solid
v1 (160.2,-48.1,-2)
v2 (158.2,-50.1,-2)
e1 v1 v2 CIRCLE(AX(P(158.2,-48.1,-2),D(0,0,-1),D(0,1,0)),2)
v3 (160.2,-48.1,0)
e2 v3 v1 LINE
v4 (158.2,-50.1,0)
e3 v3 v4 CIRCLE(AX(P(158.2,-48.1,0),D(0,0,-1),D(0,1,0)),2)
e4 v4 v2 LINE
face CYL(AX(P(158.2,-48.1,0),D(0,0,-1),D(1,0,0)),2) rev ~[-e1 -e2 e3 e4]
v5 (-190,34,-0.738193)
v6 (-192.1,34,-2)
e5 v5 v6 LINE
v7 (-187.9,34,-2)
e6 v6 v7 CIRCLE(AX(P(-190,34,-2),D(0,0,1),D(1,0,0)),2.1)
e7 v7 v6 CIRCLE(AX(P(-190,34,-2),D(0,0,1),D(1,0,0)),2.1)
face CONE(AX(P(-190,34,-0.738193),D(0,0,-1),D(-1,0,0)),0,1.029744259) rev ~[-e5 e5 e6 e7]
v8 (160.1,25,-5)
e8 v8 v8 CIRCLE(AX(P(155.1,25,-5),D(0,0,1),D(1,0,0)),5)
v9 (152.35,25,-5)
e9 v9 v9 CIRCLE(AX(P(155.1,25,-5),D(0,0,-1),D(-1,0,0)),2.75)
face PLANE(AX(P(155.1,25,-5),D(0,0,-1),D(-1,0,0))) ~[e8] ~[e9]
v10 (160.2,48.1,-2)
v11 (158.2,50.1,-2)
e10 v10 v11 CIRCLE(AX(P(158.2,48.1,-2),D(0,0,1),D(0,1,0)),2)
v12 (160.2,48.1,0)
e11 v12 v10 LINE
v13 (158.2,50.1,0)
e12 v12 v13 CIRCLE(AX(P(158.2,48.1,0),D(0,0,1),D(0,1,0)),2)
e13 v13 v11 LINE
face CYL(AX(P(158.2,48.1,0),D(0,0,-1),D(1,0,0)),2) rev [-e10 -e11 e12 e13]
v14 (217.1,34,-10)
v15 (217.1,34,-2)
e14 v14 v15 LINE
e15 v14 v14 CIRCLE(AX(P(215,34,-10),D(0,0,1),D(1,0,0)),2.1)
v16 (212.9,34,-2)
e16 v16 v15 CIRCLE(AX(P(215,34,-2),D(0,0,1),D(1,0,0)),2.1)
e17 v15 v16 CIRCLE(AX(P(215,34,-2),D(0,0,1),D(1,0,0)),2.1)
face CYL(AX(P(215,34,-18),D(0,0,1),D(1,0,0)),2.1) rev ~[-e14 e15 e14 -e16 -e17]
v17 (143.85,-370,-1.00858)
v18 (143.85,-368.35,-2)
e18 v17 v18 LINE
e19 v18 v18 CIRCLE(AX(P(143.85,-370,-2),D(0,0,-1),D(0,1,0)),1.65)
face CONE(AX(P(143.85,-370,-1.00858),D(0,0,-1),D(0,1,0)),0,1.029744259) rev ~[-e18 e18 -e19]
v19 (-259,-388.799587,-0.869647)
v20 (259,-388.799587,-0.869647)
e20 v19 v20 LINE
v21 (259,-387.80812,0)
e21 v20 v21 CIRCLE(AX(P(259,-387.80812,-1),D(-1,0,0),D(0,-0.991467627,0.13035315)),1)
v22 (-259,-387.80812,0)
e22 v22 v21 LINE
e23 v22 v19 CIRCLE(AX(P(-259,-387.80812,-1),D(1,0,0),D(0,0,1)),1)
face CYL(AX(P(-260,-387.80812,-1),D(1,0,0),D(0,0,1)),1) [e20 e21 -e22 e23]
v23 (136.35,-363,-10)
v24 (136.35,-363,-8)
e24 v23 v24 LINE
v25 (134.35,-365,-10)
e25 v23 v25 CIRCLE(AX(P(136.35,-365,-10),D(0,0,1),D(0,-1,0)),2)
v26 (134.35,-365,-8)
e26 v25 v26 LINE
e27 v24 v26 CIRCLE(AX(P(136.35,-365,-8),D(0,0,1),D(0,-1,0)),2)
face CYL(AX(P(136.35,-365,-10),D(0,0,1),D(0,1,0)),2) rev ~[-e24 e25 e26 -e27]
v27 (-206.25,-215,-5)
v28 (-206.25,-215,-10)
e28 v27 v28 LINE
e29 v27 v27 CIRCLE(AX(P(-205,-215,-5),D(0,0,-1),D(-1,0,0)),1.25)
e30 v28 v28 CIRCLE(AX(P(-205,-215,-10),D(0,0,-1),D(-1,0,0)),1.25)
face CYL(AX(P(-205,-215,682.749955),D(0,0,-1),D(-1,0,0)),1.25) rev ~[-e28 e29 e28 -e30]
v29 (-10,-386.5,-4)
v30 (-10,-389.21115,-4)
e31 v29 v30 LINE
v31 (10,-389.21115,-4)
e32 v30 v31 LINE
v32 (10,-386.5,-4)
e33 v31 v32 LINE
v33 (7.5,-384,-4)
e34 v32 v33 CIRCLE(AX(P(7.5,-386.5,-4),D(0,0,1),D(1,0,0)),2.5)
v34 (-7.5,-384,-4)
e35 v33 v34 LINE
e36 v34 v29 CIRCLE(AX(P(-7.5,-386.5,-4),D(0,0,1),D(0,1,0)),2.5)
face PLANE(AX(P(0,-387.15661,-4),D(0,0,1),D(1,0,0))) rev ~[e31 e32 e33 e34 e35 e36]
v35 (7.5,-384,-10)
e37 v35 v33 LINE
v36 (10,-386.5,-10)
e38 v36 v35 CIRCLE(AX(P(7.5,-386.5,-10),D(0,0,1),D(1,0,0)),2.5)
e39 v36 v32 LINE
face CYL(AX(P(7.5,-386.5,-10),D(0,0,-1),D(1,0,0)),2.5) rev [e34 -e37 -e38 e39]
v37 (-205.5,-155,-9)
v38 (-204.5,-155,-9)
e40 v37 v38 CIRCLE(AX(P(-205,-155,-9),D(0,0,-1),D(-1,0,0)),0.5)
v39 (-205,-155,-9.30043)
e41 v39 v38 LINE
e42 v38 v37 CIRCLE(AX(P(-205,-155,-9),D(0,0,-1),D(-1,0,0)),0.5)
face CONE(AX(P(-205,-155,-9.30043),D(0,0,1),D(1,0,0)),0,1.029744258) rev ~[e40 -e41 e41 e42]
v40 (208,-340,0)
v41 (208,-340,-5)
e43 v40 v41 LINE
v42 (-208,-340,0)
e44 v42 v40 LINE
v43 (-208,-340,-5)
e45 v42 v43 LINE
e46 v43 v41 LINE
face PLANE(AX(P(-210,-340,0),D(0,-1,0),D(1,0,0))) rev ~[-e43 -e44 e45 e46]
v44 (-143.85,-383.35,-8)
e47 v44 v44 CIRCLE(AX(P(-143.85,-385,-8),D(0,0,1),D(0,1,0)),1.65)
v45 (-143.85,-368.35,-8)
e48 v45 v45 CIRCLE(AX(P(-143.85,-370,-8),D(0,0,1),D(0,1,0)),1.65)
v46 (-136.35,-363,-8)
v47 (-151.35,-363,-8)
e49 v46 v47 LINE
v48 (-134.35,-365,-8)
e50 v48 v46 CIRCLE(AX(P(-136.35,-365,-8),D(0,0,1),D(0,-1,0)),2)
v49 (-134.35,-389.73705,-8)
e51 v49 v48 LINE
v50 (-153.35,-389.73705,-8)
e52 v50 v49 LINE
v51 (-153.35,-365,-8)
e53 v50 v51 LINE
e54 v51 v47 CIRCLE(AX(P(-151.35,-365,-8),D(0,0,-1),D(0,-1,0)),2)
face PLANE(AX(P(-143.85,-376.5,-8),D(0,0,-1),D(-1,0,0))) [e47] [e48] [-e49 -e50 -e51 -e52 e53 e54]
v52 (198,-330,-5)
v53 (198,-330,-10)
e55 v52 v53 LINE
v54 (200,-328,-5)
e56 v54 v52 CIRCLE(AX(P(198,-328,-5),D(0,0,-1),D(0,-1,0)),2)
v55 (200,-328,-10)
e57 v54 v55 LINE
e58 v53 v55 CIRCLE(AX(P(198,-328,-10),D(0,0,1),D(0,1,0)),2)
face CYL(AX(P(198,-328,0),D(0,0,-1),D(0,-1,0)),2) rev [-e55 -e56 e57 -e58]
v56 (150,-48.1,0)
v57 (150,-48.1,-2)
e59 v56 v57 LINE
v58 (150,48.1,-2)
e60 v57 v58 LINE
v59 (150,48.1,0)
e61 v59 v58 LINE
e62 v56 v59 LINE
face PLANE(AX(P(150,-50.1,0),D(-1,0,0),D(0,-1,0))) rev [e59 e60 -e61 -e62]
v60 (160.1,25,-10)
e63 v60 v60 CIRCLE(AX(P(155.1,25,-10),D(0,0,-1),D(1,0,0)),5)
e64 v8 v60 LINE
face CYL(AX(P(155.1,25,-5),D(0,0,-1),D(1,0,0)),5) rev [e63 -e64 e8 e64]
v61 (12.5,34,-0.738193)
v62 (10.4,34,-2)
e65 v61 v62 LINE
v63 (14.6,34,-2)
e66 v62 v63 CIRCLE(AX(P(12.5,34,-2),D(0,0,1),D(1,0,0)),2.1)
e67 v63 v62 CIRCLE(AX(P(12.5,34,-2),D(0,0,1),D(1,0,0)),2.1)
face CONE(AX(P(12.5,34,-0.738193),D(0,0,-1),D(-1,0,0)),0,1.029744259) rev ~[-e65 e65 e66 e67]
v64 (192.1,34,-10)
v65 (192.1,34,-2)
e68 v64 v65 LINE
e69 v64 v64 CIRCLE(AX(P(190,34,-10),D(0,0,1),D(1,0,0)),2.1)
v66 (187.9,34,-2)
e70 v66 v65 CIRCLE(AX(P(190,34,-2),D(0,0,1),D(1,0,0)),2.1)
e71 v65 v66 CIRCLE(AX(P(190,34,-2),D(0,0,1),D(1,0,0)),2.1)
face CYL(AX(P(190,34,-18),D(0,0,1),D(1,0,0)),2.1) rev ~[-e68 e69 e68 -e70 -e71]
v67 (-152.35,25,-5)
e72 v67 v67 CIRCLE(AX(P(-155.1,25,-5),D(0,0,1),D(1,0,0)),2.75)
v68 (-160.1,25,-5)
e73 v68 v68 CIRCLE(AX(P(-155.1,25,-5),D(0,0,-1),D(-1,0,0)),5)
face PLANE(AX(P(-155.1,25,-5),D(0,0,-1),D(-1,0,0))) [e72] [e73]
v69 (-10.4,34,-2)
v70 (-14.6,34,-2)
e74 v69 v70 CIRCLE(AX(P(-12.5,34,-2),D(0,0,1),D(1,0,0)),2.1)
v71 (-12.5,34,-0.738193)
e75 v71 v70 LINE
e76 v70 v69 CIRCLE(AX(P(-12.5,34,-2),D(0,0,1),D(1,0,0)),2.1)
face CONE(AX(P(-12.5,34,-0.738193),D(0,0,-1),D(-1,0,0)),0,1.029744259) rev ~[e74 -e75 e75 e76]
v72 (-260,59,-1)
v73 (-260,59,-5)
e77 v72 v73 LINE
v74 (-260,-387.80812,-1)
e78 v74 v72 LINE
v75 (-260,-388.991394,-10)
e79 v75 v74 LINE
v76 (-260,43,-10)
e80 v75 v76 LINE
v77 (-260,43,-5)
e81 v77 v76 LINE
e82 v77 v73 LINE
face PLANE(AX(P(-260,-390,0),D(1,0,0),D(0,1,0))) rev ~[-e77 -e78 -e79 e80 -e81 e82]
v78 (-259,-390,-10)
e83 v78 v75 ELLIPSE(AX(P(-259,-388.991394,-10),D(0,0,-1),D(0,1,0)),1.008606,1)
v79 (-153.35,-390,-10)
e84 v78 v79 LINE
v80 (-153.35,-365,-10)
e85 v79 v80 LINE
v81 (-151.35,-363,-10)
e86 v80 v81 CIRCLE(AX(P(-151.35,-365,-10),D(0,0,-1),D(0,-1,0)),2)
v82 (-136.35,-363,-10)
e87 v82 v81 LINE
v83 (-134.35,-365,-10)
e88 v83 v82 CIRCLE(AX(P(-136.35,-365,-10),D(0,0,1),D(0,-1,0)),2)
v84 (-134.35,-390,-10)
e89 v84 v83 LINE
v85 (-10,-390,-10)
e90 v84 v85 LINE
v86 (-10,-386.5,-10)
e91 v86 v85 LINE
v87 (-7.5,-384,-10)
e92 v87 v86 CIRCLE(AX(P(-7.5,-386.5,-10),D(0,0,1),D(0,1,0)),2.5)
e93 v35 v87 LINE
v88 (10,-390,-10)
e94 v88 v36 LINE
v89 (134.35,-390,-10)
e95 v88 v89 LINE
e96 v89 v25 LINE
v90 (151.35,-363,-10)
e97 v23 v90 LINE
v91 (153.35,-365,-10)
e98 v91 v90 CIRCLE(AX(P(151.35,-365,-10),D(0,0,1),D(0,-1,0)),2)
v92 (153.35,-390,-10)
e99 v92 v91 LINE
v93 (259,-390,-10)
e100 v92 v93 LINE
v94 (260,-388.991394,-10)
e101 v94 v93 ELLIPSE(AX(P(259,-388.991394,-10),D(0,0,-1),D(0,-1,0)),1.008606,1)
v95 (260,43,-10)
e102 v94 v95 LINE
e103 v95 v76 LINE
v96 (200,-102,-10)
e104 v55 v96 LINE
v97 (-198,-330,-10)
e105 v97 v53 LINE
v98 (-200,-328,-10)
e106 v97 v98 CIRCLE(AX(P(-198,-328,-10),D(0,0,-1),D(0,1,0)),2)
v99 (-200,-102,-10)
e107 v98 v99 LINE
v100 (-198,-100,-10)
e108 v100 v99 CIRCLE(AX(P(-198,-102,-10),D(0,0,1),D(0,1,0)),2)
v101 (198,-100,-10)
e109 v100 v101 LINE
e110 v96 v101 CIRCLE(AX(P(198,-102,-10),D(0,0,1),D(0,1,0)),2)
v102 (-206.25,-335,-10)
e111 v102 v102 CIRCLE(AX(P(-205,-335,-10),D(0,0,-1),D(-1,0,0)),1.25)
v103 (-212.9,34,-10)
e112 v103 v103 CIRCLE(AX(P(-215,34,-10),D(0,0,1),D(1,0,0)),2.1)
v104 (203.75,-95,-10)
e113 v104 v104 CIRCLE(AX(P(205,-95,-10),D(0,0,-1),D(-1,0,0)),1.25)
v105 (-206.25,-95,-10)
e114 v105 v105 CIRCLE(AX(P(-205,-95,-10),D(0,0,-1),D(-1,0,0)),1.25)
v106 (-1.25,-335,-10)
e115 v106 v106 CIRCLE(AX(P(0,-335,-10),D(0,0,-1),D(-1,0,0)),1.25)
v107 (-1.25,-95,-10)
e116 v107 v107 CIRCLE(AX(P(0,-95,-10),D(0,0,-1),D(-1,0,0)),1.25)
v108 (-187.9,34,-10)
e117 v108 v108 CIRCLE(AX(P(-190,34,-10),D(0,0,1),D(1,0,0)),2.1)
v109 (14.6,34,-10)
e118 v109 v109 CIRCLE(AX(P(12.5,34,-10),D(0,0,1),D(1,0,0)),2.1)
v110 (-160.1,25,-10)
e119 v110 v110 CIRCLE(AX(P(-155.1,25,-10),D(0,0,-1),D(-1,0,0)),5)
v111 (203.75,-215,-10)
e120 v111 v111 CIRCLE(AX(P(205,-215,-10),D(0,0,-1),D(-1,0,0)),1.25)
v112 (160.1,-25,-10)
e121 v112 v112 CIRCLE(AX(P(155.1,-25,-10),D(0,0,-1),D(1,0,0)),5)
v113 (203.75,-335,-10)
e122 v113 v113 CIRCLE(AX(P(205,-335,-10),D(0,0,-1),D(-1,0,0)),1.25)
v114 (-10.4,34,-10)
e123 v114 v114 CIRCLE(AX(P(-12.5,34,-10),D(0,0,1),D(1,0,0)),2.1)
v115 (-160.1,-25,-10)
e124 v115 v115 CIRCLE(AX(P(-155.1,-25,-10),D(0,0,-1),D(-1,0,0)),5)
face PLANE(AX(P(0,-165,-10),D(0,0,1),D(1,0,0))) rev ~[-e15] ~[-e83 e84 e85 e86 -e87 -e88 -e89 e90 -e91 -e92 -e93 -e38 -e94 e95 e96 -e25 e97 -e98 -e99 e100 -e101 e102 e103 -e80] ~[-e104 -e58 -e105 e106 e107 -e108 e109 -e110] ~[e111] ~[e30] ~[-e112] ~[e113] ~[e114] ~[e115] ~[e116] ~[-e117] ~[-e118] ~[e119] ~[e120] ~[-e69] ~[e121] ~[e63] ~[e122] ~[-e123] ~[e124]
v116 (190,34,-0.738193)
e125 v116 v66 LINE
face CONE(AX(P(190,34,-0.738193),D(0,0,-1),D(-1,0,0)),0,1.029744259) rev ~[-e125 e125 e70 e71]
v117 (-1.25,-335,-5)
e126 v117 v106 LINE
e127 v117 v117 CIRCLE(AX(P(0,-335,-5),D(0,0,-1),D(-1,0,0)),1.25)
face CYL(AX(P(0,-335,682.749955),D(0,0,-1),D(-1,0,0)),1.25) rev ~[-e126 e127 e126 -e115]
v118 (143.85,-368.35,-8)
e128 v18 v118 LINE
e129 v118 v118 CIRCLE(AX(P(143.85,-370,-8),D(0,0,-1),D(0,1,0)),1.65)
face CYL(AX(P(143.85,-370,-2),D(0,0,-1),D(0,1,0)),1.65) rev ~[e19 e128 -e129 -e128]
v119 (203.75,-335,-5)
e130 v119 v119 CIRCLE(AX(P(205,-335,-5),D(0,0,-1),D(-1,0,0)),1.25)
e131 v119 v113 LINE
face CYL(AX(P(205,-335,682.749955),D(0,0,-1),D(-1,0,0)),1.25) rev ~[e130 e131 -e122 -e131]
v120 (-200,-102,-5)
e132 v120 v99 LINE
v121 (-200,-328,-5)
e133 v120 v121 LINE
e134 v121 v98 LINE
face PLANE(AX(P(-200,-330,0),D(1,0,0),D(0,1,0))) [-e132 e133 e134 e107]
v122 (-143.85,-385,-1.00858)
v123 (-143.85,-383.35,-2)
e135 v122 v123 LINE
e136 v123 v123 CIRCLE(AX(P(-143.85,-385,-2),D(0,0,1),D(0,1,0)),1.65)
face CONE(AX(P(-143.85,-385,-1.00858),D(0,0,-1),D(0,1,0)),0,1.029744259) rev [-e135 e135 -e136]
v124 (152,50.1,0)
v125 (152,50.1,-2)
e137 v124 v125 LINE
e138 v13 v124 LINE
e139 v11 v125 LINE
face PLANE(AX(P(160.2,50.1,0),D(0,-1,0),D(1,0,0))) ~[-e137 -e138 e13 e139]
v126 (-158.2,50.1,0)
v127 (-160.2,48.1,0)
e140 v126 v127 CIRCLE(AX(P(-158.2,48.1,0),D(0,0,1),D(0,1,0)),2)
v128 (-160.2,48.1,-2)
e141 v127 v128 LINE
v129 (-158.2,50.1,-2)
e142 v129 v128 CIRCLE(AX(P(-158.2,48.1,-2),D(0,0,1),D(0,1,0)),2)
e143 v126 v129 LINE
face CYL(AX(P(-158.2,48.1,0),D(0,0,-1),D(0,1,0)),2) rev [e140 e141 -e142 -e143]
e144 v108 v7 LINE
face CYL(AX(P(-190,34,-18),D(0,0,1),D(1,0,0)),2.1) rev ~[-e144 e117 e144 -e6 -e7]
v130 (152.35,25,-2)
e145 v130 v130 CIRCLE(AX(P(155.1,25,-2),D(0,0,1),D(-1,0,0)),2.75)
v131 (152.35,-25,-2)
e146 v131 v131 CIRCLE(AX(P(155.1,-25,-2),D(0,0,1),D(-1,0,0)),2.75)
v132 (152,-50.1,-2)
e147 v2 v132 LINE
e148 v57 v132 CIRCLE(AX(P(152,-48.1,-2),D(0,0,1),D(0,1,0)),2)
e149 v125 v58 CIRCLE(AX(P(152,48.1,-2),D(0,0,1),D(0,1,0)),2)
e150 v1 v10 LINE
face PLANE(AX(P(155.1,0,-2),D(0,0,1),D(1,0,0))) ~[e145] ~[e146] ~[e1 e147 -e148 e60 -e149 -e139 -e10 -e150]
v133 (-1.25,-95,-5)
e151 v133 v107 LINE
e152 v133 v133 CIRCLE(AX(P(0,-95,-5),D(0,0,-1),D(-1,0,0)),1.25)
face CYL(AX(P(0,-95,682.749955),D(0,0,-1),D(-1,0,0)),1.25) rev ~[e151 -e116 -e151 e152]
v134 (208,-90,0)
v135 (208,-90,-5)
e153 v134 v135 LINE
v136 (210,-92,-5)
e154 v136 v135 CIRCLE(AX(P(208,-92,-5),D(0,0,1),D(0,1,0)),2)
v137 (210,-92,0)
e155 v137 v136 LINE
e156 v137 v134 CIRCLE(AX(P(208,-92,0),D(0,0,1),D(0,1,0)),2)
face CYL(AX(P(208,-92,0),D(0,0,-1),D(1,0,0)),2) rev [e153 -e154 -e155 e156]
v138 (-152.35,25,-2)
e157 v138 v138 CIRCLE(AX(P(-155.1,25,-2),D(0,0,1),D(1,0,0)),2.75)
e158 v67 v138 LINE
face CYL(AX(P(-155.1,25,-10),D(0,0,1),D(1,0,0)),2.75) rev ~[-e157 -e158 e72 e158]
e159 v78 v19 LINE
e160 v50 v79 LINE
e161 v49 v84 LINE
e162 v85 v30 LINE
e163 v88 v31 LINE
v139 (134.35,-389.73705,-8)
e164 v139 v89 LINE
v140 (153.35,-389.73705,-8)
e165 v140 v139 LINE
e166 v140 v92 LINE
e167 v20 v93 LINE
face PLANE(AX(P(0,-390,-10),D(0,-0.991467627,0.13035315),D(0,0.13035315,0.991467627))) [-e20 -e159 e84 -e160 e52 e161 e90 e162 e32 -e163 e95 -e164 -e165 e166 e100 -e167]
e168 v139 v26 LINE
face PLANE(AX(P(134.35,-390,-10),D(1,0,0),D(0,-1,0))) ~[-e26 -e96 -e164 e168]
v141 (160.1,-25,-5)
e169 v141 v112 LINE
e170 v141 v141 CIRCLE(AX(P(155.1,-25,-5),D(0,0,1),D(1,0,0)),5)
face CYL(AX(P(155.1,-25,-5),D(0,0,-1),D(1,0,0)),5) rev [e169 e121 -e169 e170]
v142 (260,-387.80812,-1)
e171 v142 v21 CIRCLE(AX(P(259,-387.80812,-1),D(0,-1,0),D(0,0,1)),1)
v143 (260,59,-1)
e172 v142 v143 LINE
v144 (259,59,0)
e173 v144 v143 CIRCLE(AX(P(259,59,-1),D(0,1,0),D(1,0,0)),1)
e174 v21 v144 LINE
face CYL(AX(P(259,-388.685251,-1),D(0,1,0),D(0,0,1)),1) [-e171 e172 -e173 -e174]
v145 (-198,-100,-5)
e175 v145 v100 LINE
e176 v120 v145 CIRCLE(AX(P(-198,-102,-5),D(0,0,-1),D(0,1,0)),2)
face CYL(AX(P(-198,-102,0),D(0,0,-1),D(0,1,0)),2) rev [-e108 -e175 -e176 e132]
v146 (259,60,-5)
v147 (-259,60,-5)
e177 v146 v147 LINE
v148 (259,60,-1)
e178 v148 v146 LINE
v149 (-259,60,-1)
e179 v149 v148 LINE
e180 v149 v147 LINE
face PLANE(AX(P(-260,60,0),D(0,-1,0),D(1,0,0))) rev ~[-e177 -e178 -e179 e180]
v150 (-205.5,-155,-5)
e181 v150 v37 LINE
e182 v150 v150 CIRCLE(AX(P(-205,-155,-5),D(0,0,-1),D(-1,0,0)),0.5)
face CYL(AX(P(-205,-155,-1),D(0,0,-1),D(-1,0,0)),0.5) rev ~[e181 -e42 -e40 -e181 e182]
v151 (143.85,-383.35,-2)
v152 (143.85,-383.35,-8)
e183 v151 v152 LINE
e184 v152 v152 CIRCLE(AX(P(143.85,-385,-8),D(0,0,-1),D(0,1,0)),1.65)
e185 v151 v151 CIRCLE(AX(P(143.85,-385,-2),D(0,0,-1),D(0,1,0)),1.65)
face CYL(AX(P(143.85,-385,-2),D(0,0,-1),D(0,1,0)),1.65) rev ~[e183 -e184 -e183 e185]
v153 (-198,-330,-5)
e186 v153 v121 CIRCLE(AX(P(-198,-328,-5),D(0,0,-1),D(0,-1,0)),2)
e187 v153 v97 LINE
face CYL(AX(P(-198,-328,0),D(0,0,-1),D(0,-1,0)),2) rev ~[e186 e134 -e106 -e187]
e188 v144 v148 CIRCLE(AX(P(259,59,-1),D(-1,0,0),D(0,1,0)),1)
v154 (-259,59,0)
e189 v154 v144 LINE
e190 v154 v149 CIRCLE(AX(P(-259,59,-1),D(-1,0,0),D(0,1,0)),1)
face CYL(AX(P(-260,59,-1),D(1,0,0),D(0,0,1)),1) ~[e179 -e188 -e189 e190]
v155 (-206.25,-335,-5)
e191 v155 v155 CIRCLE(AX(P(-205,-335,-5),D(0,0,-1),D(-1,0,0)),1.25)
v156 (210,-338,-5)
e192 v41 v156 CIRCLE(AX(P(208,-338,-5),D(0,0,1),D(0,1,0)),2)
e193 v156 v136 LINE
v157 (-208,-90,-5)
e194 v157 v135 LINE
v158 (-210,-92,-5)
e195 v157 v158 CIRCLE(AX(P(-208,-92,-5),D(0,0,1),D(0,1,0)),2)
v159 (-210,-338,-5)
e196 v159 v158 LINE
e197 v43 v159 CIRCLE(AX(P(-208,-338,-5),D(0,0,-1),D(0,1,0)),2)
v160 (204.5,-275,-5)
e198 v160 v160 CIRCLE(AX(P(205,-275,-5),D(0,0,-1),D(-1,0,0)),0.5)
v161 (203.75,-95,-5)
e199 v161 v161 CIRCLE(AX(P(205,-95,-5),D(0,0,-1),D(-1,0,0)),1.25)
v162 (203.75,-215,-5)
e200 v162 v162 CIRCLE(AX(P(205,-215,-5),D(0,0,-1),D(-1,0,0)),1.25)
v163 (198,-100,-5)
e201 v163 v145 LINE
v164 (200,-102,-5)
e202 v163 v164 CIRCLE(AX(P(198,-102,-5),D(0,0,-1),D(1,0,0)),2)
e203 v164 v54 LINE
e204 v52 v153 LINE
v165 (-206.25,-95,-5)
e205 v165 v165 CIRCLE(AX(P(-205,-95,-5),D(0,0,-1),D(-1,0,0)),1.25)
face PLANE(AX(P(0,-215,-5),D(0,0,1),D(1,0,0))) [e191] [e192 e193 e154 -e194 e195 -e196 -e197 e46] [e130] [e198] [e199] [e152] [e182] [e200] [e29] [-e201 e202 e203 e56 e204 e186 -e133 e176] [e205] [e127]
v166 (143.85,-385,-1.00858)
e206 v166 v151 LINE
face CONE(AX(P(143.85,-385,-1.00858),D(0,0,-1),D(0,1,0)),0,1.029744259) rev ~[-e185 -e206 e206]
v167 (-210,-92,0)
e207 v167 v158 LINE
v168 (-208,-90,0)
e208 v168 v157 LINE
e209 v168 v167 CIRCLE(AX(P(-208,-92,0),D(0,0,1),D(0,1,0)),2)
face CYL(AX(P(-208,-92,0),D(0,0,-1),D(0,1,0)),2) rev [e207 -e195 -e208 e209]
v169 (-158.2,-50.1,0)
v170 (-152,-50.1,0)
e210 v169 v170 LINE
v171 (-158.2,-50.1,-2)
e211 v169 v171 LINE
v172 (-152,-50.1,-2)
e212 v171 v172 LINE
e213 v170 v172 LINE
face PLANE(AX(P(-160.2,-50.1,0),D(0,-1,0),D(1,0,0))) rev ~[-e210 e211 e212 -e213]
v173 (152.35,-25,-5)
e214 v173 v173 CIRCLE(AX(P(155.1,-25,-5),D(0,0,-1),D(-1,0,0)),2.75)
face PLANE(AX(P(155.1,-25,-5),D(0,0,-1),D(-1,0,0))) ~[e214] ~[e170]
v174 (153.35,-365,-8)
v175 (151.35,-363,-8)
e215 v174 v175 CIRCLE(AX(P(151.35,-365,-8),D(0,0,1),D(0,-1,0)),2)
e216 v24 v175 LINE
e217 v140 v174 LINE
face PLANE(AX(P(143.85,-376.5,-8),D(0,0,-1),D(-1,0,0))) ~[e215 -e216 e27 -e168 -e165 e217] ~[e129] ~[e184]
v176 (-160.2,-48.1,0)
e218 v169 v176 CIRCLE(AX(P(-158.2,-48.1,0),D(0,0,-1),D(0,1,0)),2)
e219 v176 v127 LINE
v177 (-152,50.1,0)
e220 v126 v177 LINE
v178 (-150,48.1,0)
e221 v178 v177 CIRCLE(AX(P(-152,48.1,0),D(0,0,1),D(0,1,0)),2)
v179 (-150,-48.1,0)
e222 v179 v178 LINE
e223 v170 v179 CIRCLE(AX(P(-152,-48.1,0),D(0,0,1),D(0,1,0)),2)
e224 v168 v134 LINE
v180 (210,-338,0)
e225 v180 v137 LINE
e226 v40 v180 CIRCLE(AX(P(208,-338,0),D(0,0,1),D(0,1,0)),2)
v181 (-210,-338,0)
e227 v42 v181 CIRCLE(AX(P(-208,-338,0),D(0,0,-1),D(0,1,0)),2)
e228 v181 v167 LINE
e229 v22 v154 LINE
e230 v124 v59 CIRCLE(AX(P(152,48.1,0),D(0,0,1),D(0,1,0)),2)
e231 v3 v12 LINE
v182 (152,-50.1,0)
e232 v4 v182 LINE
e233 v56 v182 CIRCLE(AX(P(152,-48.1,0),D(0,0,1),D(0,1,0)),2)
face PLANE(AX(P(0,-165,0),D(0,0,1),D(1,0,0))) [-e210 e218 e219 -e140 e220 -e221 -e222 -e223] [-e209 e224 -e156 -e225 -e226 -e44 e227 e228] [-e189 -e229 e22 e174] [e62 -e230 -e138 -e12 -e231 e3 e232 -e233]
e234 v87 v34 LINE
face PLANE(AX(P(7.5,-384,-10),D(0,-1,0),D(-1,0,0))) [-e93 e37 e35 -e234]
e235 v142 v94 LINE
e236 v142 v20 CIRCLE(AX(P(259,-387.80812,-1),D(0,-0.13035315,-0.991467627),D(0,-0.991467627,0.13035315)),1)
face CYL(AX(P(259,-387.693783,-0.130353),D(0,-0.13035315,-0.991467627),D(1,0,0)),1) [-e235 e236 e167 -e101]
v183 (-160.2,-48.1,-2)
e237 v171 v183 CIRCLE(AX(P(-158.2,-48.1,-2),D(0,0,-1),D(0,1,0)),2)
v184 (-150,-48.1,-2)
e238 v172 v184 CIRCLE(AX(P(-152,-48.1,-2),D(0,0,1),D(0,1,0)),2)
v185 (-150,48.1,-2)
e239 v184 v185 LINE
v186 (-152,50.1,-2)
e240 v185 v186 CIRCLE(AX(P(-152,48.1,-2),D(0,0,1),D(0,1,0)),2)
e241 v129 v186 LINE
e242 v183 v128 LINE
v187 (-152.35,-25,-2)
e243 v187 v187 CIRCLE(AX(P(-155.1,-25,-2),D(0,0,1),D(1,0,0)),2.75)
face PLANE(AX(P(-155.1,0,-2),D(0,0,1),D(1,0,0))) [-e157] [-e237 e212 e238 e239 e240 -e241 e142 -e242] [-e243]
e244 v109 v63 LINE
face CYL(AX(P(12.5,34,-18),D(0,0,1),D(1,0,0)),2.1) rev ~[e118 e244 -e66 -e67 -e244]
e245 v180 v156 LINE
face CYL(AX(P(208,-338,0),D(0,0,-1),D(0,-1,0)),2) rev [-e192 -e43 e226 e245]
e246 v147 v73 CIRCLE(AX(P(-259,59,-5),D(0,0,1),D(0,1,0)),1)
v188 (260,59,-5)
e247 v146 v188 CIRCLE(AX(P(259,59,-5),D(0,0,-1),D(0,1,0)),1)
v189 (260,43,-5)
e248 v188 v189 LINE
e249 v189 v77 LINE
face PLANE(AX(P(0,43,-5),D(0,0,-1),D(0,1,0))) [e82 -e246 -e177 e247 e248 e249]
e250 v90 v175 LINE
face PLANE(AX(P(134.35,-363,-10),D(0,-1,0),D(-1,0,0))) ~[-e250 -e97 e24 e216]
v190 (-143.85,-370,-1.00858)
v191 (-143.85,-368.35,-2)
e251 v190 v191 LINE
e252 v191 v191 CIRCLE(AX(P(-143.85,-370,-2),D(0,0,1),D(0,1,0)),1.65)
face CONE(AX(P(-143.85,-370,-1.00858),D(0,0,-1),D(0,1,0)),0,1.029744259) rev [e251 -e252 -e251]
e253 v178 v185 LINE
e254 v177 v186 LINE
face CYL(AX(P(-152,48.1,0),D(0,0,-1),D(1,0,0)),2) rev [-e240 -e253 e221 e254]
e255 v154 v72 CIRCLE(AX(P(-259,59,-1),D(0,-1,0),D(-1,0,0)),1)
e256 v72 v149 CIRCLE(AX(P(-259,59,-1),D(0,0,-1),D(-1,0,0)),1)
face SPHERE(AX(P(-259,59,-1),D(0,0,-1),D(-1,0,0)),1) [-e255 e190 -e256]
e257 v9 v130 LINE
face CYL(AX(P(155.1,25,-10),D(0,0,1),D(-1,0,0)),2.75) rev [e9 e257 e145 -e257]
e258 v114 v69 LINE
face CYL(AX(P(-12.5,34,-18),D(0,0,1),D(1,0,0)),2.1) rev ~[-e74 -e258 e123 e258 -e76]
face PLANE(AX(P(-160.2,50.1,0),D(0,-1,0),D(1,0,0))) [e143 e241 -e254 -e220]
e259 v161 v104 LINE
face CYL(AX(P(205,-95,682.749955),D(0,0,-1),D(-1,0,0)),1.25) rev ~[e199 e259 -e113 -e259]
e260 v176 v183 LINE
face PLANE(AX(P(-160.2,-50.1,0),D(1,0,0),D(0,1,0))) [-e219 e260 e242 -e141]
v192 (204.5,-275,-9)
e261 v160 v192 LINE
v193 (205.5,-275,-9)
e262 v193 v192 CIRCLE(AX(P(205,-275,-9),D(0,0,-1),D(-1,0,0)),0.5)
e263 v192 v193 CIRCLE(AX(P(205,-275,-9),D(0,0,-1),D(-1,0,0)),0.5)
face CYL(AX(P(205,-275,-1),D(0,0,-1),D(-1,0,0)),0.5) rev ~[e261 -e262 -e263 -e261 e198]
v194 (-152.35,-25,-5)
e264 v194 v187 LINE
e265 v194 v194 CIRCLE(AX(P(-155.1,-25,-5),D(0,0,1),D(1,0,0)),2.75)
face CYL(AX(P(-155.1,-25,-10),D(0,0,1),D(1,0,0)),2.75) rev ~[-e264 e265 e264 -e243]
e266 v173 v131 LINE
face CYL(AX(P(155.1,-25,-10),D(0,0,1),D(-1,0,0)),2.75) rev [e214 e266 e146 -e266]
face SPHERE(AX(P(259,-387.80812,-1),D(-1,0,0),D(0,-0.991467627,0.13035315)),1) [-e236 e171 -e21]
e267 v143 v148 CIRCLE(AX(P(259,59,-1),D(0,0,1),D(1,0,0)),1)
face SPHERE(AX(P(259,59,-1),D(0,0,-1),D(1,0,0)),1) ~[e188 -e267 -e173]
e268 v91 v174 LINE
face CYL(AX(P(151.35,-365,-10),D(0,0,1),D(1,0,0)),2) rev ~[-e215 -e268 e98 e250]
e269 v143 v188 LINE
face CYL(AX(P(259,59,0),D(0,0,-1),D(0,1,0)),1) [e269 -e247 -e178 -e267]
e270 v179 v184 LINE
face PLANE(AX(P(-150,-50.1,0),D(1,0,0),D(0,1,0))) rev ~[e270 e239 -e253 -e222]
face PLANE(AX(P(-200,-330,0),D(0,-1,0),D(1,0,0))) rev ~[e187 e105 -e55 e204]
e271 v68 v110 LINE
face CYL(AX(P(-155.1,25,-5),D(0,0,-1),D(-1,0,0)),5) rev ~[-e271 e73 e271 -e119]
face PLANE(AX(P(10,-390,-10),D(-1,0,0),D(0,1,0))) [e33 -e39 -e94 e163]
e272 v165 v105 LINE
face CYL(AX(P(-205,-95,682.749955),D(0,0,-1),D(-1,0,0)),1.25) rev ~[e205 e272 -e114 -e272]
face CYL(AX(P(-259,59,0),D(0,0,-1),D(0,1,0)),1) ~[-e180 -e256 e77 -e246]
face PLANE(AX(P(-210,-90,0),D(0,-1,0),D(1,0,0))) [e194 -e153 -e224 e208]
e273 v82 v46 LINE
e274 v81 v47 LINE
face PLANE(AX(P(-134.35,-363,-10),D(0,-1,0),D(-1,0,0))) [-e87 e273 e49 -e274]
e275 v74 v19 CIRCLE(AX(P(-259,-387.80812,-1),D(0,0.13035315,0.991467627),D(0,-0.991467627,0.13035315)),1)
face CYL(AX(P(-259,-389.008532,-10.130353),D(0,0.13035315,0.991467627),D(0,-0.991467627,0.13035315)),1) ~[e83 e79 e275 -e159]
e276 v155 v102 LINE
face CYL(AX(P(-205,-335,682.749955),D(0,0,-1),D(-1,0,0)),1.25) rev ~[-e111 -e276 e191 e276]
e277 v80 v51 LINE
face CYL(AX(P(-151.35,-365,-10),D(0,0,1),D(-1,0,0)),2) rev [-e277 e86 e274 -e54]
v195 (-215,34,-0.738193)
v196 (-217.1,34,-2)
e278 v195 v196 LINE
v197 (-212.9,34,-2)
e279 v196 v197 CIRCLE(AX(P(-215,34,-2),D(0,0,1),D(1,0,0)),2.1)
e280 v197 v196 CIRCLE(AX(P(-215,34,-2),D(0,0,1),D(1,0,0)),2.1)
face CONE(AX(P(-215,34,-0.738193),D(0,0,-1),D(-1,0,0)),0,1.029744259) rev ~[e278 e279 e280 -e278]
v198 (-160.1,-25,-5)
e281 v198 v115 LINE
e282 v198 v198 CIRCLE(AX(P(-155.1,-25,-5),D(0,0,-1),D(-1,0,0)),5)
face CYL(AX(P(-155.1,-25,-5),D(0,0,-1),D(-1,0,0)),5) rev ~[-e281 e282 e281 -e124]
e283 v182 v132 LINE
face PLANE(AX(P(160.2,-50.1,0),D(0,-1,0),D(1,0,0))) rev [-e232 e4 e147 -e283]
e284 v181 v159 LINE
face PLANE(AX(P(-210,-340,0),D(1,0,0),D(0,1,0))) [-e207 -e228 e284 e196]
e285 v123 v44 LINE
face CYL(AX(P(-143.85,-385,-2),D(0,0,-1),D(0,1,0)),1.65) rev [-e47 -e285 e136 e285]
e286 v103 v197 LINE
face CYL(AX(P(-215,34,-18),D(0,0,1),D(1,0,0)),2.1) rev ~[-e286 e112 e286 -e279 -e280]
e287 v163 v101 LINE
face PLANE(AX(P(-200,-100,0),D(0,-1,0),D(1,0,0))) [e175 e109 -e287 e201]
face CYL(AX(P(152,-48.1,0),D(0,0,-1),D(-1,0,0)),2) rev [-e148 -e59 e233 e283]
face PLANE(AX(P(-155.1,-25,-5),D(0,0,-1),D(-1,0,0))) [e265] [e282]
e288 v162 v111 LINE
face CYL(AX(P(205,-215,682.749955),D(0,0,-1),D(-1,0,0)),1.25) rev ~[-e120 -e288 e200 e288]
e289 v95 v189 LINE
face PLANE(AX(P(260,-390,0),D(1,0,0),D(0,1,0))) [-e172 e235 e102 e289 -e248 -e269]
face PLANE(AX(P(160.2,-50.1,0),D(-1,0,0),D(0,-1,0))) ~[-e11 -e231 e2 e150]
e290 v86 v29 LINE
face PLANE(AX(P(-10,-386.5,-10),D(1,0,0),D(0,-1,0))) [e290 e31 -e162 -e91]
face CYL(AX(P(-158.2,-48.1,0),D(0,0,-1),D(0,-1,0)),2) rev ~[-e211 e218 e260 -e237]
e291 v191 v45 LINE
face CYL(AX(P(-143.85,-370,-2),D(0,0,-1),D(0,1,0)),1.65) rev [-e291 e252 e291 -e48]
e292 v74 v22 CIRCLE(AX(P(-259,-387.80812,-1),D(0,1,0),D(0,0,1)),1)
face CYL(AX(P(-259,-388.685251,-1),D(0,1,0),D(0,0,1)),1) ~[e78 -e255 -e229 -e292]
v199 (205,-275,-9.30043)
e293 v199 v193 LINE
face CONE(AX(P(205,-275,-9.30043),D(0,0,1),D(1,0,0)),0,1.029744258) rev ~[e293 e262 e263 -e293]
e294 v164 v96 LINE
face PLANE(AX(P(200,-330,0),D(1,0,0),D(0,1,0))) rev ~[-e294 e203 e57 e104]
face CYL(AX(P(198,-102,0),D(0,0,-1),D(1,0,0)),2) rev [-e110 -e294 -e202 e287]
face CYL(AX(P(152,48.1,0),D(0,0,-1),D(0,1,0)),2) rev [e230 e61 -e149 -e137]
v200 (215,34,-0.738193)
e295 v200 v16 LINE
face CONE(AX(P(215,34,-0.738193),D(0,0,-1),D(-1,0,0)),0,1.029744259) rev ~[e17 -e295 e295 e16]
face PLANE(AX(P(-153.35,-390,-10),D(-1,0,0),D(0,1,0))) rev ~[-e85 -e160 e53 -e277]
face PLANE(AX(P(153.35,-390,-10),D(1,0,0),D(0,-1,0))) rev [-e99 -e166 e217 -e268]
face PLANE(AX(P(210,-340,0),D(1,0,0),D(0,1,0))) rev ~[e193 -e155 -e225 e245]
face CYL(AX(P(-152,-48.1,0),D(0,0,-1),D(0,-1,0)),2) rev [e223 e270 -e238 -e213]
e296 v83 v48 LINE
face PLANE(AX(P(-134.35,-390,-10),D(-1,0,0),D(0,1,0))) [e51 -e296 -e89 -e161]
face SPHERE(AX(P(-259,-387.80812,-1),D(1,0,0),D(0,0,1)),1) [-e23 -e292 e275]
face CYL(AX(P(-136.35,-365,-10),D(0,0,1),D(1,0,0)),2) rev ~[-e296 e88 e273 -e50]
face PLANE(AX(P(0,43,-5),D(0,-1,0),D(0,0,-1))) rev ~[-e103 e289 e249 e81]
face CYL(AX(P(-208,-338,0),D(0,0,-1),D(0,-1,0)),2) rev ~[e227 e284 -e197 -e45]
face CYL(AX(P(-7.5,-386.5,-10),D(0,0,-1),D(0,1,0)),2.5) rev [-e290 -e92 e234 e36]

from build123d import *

# Parameters (mm, degrees)
SKETCH2_W                      = 520
SKETCH2_H                      = 450
BOSS_EXTRUDE2_DEPTH            = 10
SKETCH3_W                      = 10.2
SKETCH3_H                      = 100.2
CUT_EXTRUDE1_DEPTH             = 2
FILLET2_R                      = 2
CBORE_FOR_M5_SHCS1_D           = 5.5
CBORE_FOR_M5_SHCS1_CBORE_D     = 10
CBORE_FOR_M5_SHCS1_CBORE_DEPTH = 5
FILLET2_OF_MIRROR8_R           = 2
SKETCH7_W                      = 400
SKETCH7_H                      = 230
CUT_EXTRUDE3_DEPTH             = 11
FILLET3_R                      = 2
SKETCH9_W                      = 420
SKETCH9_H                      = 250
CUT_EXTRUDE5_DEPTH             = 5
FILLET4_R                      = 2
M3_TAPPED_HOLE1_D              = 2.5
CUT_EXTRUDE8_DEPTH             = 6
SKETCH11_W                     = 5
SKETCH11_H                     = 17
CUT_EXTRUDE7_DEPTH             = 261
CUT_EXTRUDE7_DEPTH_BACK        = 261
FILLET1_R                      = 1
M5X0_8_TAPPED_HOLE1_D          = 4.2
M5X0_8_TAPPED_HOLE1_DEPTH      = 8
M5X0_8_TAPPED_HOLE1_TIP        = 1.2618073
SKETCH17_W                     = 19
SKETCH17_H                     = 27
CUT_EXTRUDE9_DEPTH             = 2
FILLET5_R                      = 2
M4X0_7_TAPPED_HOLE1_AT_2_COUNT = 2
M4X0_7_TAPPED_HOLE1_AT_2_PITCH = 15
FILLET5_OF_MIRROR10_R          = 2
F_1_0MM_DOWEL_HOLE1_D          = 1
F_1_0MM_DOWEL_HOLE1_DEPTH      = 4
F_1_0MM_DOWEL_HOLE1_TIP        = 0.30043031


with BuildPart() as part:
    # Sketch2 → Boss-Extrude2 (new body)
    with BuildSketch(Plane.XY):
        with Locations((0, -165)):
            Rectangle(SKETCH2_W, SKETCH2_H)
    extrude(amount=-BOSS_EXTRUDE2_DEPTH)

    # Sketch3 → Cut-Extrude1 (cut)
    with BuildSketch(Plane.XY):
        with Locations((-155.1, 0)):
            Rectangle(SKETCH3_W, SKETCH3_H)
    cut_extrude1 = extrude(amount=-CUT_EXTRUDE1_DEPTH, mode=Mode.SUBTRACT)

    # Fillet2
    fillet2_edges = [part.edges().sort_by_distance(p)[0] for p in [
        (-150, 50.1, -1),
        (-150, -50.1, -1),
        (-160.2, -50.1, -1),
        (-160.2, 50.1, -1),
    ]]
    fillet(fillet2_edges, radius=FILLET2_R)

    # CBORE for M5 SHCS1 (through all)
    with Locations(Plane(origin=(0, 0, -10), x_dir=(-1, 0, 0), z_dir=(0, 0, -1))):
        with Locations((155.1, 25), (155.1, -25)):
            cbore_for_m5_shcs1 = CounterBoreHole(CBORE_FOR_M5_SHCS1_D / 2, CBORE_FOR_M5_SHCS1_CBORE_D / 2, CBORE_FOR_M5_SHCS1_CBORE_DEPTH)

    # Mirror8: Cut-Extrude1, CBORE for M5 SHCS1 across plane
    add(cut_extrude1.mirror(Plane(origin=(0, 0, 0), x_dir=(0, 0, 1), z_dir=(1, 0, 0))), mode=Mode.SUBTRACT)
    add(cbore_for_m5_shcs1.mirror(Plane(origin=(0, 0, 0), x_dir=(0, 0, 1), z_dir=(1, 0, 0))), mode=Mode.SUBTRACT)

    # Fillet2 of Mirror8
    fillet2_of_mirror8_edges = [part.edges().sort_by_distance(p)[0] for p in [
        (150, 50.1, -1),
        (150, -50.1, -1),
        (160.2, -50.1, -1),
        (160.2, 50.1, -1),
    ]]
    fillet(fillet2_of_mirror8_edges, radius=FILLET2_OF_MIRROR8_R)

    # Sketch7 → Cut-Extrude3 (cut, through all)
    with BuildSketch(Plane.XY):
        with Locations((0, -215)):
            Rectangle(SKETCH7_W, SKETCH7_H)
    extrude(amount=-CUT_EXTRUDE3_DEPTH, mode=Mode.SUBTRACT)

    # Fillet3
    fillet3_edges = [part.edges().sort_by_distance(p)[0] for p in [
        (200, -100, -5),
        (200, -330, -5),
        (-200, -330, -5),
        (-200, -100, -5),
    ]]
    fillet(fillet3_edges, radius=FILLET3_R)

    # Sketch9 → Cut-Extrude5 (cut)
    with BuildSketch(Plane.XY):
        with Locations((0, -215)):
            Rectangle(SKETCH9_W, SKETCH9_H)
    extrude(amount=-CUT_EXTRUDE5_DEPTH, mode=Mode.SUBTRACT)

    # Fillet4
    fillet4_edges = [part.edges().sort_by_distance(p)[0] for p in [
        (210, -90, -2.5),
        (210, -340, -2.5),
        (-210, -340, -2.5),
        (-210, -90, -2.5),
    ]]
    fillet(fillet4_edges, radius=FILLET4_R)

    # M3 Tapped Hole1 (through all)
    with Locations(Plane.XY.offset(-5)):
        with Locations((-205, -95), (0, -95), (-205, -215), (205, -95), (205, -215), (205, -335), (0, -335), (-205, -335)):
            Hole(M3_TAPPED_HOLE1_D / 2)

    # Sketch12 → Cut-Extrude8 (cut)
    with BuildSketch(Plane(origin=(0, 0, -10), x_dir=(-1, 0, 0), z_dir=(0, 0, -1))):
        with BuildLine():
            Line((10, -390), (-10, -390))
            Line((-10, -390), (-10, -386.5))
            ThreePointArc((-10, -386.5), (-9.267766953, -384.732233047), (-7.5, -384))
            Line((-7.5, -384), (7.5, -384))
            ThreePointArc((7.5, -384), (9.267766953, -384.732233047), (10, -386.5))
            Line((10, -386.5), (10, -390))
        make_face()
    extrude(amount=-CUT_EXTRUDE8_DEPTH, mode=Mode.SUBTRACT)

    # Sketch11 → Cut-Extrude7 (cut, two sides)
    with BuildSketch(Plane(origin=(0, 0, 0), x_dir=(0, 0, -1), z_dir=(1, 0, 0))) as cut_extrude7_sk:
        Polygon((10, -390), (0, -388.685250563), (0, -390), align=None)
        with Locations((7.5, 51.5)):
            Rectangle(SKETCH11_W, SKETCH11_H)
    extrude(amount=CUT_EXTRUDE7_DEPTH, mode=Mode.SUBTRACT)
    extrude(cut_extrude7_sk.sketch, amount=-CUT_EXTRUDE7_DEPTH_BACK, mode=Mode.SUBTRACT)

    # Fillet1
    fillet1_edges = [part.edges().sort_by_distance(p)[0] for p in [
        (260, 60, -2.5),
        (-260, 60, -2.5),
        (260, -164.342625282, 0),
        (-260, -389.342625282, -5),
        (0, -388.685250563, 0),
        (260, -389.342625282, -5),
        (-260, -164.342625282, 0),
        (0, 60, 0),
    ]]
    fillet(fillet1_edges, radius=FILLET1_R)

    # M5x0.8 Tapped Hole1
    with Locations(Plane(origin=(0, 0, -10), x_dir=(-1, 0, 0), z_dir=(0, 0, -1))):
        with Locations((-215, 34), (-190, 34), (-12.5, 34), (12.5, 34), (190, 34), (215, 34)):
            Hole(M5X0_8_TAPPED_HOLE1_D / 2, depth=M5X0_8_TAPPED_HOLE1_DEPTH)
            with Locations((0, 0, -(M5X0_8_TAPPED_HOLE1_DEPTH + M5X0_8_TAPPED_HOLE1_TIP / 2))):  # 118° drill point
                Cone(0, M5X0_8_TAPPED_HOLE1_D / 2, M5X0_8_TAPPED_HOLE1_TIP, mode=Mode.SUBTRACT)

    # Sketch17 → Cut-Extrude9 (cut)
    with BuildSketch(Plane(origin=(0, 0, -10), x_dir=(-1, 0, 0), z_dir=(0, 0, -1))):
        with Locations((143.85, -376.5)):
            Rectangle(SKETCH17_W, SKETCH17_H)
    cut_extrude9 = extrude(amount=-CUT_EXTRUDE9_DEPTH, mode=Mode.SUBTRACT)

    # Fillet5
    fillet5_edges = [part.edges().sort_by_distance(p)[0] for p in [
        (-153.35, -363, -9),
        (-134.35, -363, -9),
    ]]
    fillet(fillet5_edges, radius=FILLET5_R)

    # Sketch19 → M4x0.7 Tapped Hole1 (revolve, cut)
    with BuildSketch(Plane(origin=(-143.85, -385, -8), x_dir=(0, 1, 0), z_dir=(1, 0, 0))):
        Polygon((0, 0), (0, 6.991420021), (1.65, 6), (1.65, 0), align=None)
    m4x0_7_tapped_hole1 = revolve(axis=Axis((-143.85, -385, -14.35), (0, 0, 1)), mode=Mode.SUBTRACT)

    # M4x0.7 Tapped Hole1 at 2: M4x0.7 Tapped Hole1 ×2
    with Locations(*[(0, i * M4X0_7_TAPPED_HOLE1_AT_2_PITCH, 0) for i in range(1, M4X0_7_TAPPED_HOLE1_AT_2_COUNT)]):
        add(m4x0_7_tapped_hole1, mode=Mode.SUBTRACT)

    # Mirror10: M4x0.7 Tapped Hole1, Cut-Extrude9 across plane
    add(m4x0_7_tapped_hole1.mirror(Plane(origin=(0, 0, 0), x_dir=(0, 0, 1), z_dir=(1, 0, 0))), mode=Mode.SUBTRACT)
    add(cut_extrude9.mirror(Plane(origin=(0, 0, 0), x_dir=(0, 0, 1), z_dir=(1, 0, 0))), mode=Mode.SUBTRACT)

    # Mirror10 copy 1 sketch → Mirror10 copy 1 (revolve, cut)
    with BuildSketch(Plane(origin=(143.85, -370, -8), x_dir=(0, 1, 0), z_dir=(-1, 0, 0))):
        Polygon((0, 0), (0, -6.991420021), (1.65, -6), (1.65, 0), align=None)
    revolve(axis=Axis((143.85, -370, -14.35), (0, 0, -1)), mode=Mode.SUBTRACT)

    # Fillet5 of Mirror10
    fillet5_of_mirror10_edges = [part.edges().sort_by_distance(p)[0] for p in [
        (153.35, -363, -9),
        (134.35, -363, -9),
    ]]
    fillet(fillet5_of_mirror10_edges, radius=FILLET5_OF_MIRROR10_R)

    # Ø1.0mm Dowel Hole1
    with Locations(Plane.XY.offset(-5)):
        with Locations((-205, -155), (205, -275)):
            Hole(F_1_0MM_DOWEL_HOLE1_D / 2, depth=F_1_0MM_DOWEL_HOLE1_DEPTH)
            with Locations((0, 0, -(F_1_0MM_DOWEL_HOLE1_DEPTH + F_1_0MM_DOWEL_HOLE1_TIP / 2))):  # 118° drill point
                Cone(0, F_1_0MM_DOWEL_HOLE1_D / 2, F_1_0MM_DOWEL_HOLE1_TIP, mode=Mode.SUBTRACT)


solid = part.part
